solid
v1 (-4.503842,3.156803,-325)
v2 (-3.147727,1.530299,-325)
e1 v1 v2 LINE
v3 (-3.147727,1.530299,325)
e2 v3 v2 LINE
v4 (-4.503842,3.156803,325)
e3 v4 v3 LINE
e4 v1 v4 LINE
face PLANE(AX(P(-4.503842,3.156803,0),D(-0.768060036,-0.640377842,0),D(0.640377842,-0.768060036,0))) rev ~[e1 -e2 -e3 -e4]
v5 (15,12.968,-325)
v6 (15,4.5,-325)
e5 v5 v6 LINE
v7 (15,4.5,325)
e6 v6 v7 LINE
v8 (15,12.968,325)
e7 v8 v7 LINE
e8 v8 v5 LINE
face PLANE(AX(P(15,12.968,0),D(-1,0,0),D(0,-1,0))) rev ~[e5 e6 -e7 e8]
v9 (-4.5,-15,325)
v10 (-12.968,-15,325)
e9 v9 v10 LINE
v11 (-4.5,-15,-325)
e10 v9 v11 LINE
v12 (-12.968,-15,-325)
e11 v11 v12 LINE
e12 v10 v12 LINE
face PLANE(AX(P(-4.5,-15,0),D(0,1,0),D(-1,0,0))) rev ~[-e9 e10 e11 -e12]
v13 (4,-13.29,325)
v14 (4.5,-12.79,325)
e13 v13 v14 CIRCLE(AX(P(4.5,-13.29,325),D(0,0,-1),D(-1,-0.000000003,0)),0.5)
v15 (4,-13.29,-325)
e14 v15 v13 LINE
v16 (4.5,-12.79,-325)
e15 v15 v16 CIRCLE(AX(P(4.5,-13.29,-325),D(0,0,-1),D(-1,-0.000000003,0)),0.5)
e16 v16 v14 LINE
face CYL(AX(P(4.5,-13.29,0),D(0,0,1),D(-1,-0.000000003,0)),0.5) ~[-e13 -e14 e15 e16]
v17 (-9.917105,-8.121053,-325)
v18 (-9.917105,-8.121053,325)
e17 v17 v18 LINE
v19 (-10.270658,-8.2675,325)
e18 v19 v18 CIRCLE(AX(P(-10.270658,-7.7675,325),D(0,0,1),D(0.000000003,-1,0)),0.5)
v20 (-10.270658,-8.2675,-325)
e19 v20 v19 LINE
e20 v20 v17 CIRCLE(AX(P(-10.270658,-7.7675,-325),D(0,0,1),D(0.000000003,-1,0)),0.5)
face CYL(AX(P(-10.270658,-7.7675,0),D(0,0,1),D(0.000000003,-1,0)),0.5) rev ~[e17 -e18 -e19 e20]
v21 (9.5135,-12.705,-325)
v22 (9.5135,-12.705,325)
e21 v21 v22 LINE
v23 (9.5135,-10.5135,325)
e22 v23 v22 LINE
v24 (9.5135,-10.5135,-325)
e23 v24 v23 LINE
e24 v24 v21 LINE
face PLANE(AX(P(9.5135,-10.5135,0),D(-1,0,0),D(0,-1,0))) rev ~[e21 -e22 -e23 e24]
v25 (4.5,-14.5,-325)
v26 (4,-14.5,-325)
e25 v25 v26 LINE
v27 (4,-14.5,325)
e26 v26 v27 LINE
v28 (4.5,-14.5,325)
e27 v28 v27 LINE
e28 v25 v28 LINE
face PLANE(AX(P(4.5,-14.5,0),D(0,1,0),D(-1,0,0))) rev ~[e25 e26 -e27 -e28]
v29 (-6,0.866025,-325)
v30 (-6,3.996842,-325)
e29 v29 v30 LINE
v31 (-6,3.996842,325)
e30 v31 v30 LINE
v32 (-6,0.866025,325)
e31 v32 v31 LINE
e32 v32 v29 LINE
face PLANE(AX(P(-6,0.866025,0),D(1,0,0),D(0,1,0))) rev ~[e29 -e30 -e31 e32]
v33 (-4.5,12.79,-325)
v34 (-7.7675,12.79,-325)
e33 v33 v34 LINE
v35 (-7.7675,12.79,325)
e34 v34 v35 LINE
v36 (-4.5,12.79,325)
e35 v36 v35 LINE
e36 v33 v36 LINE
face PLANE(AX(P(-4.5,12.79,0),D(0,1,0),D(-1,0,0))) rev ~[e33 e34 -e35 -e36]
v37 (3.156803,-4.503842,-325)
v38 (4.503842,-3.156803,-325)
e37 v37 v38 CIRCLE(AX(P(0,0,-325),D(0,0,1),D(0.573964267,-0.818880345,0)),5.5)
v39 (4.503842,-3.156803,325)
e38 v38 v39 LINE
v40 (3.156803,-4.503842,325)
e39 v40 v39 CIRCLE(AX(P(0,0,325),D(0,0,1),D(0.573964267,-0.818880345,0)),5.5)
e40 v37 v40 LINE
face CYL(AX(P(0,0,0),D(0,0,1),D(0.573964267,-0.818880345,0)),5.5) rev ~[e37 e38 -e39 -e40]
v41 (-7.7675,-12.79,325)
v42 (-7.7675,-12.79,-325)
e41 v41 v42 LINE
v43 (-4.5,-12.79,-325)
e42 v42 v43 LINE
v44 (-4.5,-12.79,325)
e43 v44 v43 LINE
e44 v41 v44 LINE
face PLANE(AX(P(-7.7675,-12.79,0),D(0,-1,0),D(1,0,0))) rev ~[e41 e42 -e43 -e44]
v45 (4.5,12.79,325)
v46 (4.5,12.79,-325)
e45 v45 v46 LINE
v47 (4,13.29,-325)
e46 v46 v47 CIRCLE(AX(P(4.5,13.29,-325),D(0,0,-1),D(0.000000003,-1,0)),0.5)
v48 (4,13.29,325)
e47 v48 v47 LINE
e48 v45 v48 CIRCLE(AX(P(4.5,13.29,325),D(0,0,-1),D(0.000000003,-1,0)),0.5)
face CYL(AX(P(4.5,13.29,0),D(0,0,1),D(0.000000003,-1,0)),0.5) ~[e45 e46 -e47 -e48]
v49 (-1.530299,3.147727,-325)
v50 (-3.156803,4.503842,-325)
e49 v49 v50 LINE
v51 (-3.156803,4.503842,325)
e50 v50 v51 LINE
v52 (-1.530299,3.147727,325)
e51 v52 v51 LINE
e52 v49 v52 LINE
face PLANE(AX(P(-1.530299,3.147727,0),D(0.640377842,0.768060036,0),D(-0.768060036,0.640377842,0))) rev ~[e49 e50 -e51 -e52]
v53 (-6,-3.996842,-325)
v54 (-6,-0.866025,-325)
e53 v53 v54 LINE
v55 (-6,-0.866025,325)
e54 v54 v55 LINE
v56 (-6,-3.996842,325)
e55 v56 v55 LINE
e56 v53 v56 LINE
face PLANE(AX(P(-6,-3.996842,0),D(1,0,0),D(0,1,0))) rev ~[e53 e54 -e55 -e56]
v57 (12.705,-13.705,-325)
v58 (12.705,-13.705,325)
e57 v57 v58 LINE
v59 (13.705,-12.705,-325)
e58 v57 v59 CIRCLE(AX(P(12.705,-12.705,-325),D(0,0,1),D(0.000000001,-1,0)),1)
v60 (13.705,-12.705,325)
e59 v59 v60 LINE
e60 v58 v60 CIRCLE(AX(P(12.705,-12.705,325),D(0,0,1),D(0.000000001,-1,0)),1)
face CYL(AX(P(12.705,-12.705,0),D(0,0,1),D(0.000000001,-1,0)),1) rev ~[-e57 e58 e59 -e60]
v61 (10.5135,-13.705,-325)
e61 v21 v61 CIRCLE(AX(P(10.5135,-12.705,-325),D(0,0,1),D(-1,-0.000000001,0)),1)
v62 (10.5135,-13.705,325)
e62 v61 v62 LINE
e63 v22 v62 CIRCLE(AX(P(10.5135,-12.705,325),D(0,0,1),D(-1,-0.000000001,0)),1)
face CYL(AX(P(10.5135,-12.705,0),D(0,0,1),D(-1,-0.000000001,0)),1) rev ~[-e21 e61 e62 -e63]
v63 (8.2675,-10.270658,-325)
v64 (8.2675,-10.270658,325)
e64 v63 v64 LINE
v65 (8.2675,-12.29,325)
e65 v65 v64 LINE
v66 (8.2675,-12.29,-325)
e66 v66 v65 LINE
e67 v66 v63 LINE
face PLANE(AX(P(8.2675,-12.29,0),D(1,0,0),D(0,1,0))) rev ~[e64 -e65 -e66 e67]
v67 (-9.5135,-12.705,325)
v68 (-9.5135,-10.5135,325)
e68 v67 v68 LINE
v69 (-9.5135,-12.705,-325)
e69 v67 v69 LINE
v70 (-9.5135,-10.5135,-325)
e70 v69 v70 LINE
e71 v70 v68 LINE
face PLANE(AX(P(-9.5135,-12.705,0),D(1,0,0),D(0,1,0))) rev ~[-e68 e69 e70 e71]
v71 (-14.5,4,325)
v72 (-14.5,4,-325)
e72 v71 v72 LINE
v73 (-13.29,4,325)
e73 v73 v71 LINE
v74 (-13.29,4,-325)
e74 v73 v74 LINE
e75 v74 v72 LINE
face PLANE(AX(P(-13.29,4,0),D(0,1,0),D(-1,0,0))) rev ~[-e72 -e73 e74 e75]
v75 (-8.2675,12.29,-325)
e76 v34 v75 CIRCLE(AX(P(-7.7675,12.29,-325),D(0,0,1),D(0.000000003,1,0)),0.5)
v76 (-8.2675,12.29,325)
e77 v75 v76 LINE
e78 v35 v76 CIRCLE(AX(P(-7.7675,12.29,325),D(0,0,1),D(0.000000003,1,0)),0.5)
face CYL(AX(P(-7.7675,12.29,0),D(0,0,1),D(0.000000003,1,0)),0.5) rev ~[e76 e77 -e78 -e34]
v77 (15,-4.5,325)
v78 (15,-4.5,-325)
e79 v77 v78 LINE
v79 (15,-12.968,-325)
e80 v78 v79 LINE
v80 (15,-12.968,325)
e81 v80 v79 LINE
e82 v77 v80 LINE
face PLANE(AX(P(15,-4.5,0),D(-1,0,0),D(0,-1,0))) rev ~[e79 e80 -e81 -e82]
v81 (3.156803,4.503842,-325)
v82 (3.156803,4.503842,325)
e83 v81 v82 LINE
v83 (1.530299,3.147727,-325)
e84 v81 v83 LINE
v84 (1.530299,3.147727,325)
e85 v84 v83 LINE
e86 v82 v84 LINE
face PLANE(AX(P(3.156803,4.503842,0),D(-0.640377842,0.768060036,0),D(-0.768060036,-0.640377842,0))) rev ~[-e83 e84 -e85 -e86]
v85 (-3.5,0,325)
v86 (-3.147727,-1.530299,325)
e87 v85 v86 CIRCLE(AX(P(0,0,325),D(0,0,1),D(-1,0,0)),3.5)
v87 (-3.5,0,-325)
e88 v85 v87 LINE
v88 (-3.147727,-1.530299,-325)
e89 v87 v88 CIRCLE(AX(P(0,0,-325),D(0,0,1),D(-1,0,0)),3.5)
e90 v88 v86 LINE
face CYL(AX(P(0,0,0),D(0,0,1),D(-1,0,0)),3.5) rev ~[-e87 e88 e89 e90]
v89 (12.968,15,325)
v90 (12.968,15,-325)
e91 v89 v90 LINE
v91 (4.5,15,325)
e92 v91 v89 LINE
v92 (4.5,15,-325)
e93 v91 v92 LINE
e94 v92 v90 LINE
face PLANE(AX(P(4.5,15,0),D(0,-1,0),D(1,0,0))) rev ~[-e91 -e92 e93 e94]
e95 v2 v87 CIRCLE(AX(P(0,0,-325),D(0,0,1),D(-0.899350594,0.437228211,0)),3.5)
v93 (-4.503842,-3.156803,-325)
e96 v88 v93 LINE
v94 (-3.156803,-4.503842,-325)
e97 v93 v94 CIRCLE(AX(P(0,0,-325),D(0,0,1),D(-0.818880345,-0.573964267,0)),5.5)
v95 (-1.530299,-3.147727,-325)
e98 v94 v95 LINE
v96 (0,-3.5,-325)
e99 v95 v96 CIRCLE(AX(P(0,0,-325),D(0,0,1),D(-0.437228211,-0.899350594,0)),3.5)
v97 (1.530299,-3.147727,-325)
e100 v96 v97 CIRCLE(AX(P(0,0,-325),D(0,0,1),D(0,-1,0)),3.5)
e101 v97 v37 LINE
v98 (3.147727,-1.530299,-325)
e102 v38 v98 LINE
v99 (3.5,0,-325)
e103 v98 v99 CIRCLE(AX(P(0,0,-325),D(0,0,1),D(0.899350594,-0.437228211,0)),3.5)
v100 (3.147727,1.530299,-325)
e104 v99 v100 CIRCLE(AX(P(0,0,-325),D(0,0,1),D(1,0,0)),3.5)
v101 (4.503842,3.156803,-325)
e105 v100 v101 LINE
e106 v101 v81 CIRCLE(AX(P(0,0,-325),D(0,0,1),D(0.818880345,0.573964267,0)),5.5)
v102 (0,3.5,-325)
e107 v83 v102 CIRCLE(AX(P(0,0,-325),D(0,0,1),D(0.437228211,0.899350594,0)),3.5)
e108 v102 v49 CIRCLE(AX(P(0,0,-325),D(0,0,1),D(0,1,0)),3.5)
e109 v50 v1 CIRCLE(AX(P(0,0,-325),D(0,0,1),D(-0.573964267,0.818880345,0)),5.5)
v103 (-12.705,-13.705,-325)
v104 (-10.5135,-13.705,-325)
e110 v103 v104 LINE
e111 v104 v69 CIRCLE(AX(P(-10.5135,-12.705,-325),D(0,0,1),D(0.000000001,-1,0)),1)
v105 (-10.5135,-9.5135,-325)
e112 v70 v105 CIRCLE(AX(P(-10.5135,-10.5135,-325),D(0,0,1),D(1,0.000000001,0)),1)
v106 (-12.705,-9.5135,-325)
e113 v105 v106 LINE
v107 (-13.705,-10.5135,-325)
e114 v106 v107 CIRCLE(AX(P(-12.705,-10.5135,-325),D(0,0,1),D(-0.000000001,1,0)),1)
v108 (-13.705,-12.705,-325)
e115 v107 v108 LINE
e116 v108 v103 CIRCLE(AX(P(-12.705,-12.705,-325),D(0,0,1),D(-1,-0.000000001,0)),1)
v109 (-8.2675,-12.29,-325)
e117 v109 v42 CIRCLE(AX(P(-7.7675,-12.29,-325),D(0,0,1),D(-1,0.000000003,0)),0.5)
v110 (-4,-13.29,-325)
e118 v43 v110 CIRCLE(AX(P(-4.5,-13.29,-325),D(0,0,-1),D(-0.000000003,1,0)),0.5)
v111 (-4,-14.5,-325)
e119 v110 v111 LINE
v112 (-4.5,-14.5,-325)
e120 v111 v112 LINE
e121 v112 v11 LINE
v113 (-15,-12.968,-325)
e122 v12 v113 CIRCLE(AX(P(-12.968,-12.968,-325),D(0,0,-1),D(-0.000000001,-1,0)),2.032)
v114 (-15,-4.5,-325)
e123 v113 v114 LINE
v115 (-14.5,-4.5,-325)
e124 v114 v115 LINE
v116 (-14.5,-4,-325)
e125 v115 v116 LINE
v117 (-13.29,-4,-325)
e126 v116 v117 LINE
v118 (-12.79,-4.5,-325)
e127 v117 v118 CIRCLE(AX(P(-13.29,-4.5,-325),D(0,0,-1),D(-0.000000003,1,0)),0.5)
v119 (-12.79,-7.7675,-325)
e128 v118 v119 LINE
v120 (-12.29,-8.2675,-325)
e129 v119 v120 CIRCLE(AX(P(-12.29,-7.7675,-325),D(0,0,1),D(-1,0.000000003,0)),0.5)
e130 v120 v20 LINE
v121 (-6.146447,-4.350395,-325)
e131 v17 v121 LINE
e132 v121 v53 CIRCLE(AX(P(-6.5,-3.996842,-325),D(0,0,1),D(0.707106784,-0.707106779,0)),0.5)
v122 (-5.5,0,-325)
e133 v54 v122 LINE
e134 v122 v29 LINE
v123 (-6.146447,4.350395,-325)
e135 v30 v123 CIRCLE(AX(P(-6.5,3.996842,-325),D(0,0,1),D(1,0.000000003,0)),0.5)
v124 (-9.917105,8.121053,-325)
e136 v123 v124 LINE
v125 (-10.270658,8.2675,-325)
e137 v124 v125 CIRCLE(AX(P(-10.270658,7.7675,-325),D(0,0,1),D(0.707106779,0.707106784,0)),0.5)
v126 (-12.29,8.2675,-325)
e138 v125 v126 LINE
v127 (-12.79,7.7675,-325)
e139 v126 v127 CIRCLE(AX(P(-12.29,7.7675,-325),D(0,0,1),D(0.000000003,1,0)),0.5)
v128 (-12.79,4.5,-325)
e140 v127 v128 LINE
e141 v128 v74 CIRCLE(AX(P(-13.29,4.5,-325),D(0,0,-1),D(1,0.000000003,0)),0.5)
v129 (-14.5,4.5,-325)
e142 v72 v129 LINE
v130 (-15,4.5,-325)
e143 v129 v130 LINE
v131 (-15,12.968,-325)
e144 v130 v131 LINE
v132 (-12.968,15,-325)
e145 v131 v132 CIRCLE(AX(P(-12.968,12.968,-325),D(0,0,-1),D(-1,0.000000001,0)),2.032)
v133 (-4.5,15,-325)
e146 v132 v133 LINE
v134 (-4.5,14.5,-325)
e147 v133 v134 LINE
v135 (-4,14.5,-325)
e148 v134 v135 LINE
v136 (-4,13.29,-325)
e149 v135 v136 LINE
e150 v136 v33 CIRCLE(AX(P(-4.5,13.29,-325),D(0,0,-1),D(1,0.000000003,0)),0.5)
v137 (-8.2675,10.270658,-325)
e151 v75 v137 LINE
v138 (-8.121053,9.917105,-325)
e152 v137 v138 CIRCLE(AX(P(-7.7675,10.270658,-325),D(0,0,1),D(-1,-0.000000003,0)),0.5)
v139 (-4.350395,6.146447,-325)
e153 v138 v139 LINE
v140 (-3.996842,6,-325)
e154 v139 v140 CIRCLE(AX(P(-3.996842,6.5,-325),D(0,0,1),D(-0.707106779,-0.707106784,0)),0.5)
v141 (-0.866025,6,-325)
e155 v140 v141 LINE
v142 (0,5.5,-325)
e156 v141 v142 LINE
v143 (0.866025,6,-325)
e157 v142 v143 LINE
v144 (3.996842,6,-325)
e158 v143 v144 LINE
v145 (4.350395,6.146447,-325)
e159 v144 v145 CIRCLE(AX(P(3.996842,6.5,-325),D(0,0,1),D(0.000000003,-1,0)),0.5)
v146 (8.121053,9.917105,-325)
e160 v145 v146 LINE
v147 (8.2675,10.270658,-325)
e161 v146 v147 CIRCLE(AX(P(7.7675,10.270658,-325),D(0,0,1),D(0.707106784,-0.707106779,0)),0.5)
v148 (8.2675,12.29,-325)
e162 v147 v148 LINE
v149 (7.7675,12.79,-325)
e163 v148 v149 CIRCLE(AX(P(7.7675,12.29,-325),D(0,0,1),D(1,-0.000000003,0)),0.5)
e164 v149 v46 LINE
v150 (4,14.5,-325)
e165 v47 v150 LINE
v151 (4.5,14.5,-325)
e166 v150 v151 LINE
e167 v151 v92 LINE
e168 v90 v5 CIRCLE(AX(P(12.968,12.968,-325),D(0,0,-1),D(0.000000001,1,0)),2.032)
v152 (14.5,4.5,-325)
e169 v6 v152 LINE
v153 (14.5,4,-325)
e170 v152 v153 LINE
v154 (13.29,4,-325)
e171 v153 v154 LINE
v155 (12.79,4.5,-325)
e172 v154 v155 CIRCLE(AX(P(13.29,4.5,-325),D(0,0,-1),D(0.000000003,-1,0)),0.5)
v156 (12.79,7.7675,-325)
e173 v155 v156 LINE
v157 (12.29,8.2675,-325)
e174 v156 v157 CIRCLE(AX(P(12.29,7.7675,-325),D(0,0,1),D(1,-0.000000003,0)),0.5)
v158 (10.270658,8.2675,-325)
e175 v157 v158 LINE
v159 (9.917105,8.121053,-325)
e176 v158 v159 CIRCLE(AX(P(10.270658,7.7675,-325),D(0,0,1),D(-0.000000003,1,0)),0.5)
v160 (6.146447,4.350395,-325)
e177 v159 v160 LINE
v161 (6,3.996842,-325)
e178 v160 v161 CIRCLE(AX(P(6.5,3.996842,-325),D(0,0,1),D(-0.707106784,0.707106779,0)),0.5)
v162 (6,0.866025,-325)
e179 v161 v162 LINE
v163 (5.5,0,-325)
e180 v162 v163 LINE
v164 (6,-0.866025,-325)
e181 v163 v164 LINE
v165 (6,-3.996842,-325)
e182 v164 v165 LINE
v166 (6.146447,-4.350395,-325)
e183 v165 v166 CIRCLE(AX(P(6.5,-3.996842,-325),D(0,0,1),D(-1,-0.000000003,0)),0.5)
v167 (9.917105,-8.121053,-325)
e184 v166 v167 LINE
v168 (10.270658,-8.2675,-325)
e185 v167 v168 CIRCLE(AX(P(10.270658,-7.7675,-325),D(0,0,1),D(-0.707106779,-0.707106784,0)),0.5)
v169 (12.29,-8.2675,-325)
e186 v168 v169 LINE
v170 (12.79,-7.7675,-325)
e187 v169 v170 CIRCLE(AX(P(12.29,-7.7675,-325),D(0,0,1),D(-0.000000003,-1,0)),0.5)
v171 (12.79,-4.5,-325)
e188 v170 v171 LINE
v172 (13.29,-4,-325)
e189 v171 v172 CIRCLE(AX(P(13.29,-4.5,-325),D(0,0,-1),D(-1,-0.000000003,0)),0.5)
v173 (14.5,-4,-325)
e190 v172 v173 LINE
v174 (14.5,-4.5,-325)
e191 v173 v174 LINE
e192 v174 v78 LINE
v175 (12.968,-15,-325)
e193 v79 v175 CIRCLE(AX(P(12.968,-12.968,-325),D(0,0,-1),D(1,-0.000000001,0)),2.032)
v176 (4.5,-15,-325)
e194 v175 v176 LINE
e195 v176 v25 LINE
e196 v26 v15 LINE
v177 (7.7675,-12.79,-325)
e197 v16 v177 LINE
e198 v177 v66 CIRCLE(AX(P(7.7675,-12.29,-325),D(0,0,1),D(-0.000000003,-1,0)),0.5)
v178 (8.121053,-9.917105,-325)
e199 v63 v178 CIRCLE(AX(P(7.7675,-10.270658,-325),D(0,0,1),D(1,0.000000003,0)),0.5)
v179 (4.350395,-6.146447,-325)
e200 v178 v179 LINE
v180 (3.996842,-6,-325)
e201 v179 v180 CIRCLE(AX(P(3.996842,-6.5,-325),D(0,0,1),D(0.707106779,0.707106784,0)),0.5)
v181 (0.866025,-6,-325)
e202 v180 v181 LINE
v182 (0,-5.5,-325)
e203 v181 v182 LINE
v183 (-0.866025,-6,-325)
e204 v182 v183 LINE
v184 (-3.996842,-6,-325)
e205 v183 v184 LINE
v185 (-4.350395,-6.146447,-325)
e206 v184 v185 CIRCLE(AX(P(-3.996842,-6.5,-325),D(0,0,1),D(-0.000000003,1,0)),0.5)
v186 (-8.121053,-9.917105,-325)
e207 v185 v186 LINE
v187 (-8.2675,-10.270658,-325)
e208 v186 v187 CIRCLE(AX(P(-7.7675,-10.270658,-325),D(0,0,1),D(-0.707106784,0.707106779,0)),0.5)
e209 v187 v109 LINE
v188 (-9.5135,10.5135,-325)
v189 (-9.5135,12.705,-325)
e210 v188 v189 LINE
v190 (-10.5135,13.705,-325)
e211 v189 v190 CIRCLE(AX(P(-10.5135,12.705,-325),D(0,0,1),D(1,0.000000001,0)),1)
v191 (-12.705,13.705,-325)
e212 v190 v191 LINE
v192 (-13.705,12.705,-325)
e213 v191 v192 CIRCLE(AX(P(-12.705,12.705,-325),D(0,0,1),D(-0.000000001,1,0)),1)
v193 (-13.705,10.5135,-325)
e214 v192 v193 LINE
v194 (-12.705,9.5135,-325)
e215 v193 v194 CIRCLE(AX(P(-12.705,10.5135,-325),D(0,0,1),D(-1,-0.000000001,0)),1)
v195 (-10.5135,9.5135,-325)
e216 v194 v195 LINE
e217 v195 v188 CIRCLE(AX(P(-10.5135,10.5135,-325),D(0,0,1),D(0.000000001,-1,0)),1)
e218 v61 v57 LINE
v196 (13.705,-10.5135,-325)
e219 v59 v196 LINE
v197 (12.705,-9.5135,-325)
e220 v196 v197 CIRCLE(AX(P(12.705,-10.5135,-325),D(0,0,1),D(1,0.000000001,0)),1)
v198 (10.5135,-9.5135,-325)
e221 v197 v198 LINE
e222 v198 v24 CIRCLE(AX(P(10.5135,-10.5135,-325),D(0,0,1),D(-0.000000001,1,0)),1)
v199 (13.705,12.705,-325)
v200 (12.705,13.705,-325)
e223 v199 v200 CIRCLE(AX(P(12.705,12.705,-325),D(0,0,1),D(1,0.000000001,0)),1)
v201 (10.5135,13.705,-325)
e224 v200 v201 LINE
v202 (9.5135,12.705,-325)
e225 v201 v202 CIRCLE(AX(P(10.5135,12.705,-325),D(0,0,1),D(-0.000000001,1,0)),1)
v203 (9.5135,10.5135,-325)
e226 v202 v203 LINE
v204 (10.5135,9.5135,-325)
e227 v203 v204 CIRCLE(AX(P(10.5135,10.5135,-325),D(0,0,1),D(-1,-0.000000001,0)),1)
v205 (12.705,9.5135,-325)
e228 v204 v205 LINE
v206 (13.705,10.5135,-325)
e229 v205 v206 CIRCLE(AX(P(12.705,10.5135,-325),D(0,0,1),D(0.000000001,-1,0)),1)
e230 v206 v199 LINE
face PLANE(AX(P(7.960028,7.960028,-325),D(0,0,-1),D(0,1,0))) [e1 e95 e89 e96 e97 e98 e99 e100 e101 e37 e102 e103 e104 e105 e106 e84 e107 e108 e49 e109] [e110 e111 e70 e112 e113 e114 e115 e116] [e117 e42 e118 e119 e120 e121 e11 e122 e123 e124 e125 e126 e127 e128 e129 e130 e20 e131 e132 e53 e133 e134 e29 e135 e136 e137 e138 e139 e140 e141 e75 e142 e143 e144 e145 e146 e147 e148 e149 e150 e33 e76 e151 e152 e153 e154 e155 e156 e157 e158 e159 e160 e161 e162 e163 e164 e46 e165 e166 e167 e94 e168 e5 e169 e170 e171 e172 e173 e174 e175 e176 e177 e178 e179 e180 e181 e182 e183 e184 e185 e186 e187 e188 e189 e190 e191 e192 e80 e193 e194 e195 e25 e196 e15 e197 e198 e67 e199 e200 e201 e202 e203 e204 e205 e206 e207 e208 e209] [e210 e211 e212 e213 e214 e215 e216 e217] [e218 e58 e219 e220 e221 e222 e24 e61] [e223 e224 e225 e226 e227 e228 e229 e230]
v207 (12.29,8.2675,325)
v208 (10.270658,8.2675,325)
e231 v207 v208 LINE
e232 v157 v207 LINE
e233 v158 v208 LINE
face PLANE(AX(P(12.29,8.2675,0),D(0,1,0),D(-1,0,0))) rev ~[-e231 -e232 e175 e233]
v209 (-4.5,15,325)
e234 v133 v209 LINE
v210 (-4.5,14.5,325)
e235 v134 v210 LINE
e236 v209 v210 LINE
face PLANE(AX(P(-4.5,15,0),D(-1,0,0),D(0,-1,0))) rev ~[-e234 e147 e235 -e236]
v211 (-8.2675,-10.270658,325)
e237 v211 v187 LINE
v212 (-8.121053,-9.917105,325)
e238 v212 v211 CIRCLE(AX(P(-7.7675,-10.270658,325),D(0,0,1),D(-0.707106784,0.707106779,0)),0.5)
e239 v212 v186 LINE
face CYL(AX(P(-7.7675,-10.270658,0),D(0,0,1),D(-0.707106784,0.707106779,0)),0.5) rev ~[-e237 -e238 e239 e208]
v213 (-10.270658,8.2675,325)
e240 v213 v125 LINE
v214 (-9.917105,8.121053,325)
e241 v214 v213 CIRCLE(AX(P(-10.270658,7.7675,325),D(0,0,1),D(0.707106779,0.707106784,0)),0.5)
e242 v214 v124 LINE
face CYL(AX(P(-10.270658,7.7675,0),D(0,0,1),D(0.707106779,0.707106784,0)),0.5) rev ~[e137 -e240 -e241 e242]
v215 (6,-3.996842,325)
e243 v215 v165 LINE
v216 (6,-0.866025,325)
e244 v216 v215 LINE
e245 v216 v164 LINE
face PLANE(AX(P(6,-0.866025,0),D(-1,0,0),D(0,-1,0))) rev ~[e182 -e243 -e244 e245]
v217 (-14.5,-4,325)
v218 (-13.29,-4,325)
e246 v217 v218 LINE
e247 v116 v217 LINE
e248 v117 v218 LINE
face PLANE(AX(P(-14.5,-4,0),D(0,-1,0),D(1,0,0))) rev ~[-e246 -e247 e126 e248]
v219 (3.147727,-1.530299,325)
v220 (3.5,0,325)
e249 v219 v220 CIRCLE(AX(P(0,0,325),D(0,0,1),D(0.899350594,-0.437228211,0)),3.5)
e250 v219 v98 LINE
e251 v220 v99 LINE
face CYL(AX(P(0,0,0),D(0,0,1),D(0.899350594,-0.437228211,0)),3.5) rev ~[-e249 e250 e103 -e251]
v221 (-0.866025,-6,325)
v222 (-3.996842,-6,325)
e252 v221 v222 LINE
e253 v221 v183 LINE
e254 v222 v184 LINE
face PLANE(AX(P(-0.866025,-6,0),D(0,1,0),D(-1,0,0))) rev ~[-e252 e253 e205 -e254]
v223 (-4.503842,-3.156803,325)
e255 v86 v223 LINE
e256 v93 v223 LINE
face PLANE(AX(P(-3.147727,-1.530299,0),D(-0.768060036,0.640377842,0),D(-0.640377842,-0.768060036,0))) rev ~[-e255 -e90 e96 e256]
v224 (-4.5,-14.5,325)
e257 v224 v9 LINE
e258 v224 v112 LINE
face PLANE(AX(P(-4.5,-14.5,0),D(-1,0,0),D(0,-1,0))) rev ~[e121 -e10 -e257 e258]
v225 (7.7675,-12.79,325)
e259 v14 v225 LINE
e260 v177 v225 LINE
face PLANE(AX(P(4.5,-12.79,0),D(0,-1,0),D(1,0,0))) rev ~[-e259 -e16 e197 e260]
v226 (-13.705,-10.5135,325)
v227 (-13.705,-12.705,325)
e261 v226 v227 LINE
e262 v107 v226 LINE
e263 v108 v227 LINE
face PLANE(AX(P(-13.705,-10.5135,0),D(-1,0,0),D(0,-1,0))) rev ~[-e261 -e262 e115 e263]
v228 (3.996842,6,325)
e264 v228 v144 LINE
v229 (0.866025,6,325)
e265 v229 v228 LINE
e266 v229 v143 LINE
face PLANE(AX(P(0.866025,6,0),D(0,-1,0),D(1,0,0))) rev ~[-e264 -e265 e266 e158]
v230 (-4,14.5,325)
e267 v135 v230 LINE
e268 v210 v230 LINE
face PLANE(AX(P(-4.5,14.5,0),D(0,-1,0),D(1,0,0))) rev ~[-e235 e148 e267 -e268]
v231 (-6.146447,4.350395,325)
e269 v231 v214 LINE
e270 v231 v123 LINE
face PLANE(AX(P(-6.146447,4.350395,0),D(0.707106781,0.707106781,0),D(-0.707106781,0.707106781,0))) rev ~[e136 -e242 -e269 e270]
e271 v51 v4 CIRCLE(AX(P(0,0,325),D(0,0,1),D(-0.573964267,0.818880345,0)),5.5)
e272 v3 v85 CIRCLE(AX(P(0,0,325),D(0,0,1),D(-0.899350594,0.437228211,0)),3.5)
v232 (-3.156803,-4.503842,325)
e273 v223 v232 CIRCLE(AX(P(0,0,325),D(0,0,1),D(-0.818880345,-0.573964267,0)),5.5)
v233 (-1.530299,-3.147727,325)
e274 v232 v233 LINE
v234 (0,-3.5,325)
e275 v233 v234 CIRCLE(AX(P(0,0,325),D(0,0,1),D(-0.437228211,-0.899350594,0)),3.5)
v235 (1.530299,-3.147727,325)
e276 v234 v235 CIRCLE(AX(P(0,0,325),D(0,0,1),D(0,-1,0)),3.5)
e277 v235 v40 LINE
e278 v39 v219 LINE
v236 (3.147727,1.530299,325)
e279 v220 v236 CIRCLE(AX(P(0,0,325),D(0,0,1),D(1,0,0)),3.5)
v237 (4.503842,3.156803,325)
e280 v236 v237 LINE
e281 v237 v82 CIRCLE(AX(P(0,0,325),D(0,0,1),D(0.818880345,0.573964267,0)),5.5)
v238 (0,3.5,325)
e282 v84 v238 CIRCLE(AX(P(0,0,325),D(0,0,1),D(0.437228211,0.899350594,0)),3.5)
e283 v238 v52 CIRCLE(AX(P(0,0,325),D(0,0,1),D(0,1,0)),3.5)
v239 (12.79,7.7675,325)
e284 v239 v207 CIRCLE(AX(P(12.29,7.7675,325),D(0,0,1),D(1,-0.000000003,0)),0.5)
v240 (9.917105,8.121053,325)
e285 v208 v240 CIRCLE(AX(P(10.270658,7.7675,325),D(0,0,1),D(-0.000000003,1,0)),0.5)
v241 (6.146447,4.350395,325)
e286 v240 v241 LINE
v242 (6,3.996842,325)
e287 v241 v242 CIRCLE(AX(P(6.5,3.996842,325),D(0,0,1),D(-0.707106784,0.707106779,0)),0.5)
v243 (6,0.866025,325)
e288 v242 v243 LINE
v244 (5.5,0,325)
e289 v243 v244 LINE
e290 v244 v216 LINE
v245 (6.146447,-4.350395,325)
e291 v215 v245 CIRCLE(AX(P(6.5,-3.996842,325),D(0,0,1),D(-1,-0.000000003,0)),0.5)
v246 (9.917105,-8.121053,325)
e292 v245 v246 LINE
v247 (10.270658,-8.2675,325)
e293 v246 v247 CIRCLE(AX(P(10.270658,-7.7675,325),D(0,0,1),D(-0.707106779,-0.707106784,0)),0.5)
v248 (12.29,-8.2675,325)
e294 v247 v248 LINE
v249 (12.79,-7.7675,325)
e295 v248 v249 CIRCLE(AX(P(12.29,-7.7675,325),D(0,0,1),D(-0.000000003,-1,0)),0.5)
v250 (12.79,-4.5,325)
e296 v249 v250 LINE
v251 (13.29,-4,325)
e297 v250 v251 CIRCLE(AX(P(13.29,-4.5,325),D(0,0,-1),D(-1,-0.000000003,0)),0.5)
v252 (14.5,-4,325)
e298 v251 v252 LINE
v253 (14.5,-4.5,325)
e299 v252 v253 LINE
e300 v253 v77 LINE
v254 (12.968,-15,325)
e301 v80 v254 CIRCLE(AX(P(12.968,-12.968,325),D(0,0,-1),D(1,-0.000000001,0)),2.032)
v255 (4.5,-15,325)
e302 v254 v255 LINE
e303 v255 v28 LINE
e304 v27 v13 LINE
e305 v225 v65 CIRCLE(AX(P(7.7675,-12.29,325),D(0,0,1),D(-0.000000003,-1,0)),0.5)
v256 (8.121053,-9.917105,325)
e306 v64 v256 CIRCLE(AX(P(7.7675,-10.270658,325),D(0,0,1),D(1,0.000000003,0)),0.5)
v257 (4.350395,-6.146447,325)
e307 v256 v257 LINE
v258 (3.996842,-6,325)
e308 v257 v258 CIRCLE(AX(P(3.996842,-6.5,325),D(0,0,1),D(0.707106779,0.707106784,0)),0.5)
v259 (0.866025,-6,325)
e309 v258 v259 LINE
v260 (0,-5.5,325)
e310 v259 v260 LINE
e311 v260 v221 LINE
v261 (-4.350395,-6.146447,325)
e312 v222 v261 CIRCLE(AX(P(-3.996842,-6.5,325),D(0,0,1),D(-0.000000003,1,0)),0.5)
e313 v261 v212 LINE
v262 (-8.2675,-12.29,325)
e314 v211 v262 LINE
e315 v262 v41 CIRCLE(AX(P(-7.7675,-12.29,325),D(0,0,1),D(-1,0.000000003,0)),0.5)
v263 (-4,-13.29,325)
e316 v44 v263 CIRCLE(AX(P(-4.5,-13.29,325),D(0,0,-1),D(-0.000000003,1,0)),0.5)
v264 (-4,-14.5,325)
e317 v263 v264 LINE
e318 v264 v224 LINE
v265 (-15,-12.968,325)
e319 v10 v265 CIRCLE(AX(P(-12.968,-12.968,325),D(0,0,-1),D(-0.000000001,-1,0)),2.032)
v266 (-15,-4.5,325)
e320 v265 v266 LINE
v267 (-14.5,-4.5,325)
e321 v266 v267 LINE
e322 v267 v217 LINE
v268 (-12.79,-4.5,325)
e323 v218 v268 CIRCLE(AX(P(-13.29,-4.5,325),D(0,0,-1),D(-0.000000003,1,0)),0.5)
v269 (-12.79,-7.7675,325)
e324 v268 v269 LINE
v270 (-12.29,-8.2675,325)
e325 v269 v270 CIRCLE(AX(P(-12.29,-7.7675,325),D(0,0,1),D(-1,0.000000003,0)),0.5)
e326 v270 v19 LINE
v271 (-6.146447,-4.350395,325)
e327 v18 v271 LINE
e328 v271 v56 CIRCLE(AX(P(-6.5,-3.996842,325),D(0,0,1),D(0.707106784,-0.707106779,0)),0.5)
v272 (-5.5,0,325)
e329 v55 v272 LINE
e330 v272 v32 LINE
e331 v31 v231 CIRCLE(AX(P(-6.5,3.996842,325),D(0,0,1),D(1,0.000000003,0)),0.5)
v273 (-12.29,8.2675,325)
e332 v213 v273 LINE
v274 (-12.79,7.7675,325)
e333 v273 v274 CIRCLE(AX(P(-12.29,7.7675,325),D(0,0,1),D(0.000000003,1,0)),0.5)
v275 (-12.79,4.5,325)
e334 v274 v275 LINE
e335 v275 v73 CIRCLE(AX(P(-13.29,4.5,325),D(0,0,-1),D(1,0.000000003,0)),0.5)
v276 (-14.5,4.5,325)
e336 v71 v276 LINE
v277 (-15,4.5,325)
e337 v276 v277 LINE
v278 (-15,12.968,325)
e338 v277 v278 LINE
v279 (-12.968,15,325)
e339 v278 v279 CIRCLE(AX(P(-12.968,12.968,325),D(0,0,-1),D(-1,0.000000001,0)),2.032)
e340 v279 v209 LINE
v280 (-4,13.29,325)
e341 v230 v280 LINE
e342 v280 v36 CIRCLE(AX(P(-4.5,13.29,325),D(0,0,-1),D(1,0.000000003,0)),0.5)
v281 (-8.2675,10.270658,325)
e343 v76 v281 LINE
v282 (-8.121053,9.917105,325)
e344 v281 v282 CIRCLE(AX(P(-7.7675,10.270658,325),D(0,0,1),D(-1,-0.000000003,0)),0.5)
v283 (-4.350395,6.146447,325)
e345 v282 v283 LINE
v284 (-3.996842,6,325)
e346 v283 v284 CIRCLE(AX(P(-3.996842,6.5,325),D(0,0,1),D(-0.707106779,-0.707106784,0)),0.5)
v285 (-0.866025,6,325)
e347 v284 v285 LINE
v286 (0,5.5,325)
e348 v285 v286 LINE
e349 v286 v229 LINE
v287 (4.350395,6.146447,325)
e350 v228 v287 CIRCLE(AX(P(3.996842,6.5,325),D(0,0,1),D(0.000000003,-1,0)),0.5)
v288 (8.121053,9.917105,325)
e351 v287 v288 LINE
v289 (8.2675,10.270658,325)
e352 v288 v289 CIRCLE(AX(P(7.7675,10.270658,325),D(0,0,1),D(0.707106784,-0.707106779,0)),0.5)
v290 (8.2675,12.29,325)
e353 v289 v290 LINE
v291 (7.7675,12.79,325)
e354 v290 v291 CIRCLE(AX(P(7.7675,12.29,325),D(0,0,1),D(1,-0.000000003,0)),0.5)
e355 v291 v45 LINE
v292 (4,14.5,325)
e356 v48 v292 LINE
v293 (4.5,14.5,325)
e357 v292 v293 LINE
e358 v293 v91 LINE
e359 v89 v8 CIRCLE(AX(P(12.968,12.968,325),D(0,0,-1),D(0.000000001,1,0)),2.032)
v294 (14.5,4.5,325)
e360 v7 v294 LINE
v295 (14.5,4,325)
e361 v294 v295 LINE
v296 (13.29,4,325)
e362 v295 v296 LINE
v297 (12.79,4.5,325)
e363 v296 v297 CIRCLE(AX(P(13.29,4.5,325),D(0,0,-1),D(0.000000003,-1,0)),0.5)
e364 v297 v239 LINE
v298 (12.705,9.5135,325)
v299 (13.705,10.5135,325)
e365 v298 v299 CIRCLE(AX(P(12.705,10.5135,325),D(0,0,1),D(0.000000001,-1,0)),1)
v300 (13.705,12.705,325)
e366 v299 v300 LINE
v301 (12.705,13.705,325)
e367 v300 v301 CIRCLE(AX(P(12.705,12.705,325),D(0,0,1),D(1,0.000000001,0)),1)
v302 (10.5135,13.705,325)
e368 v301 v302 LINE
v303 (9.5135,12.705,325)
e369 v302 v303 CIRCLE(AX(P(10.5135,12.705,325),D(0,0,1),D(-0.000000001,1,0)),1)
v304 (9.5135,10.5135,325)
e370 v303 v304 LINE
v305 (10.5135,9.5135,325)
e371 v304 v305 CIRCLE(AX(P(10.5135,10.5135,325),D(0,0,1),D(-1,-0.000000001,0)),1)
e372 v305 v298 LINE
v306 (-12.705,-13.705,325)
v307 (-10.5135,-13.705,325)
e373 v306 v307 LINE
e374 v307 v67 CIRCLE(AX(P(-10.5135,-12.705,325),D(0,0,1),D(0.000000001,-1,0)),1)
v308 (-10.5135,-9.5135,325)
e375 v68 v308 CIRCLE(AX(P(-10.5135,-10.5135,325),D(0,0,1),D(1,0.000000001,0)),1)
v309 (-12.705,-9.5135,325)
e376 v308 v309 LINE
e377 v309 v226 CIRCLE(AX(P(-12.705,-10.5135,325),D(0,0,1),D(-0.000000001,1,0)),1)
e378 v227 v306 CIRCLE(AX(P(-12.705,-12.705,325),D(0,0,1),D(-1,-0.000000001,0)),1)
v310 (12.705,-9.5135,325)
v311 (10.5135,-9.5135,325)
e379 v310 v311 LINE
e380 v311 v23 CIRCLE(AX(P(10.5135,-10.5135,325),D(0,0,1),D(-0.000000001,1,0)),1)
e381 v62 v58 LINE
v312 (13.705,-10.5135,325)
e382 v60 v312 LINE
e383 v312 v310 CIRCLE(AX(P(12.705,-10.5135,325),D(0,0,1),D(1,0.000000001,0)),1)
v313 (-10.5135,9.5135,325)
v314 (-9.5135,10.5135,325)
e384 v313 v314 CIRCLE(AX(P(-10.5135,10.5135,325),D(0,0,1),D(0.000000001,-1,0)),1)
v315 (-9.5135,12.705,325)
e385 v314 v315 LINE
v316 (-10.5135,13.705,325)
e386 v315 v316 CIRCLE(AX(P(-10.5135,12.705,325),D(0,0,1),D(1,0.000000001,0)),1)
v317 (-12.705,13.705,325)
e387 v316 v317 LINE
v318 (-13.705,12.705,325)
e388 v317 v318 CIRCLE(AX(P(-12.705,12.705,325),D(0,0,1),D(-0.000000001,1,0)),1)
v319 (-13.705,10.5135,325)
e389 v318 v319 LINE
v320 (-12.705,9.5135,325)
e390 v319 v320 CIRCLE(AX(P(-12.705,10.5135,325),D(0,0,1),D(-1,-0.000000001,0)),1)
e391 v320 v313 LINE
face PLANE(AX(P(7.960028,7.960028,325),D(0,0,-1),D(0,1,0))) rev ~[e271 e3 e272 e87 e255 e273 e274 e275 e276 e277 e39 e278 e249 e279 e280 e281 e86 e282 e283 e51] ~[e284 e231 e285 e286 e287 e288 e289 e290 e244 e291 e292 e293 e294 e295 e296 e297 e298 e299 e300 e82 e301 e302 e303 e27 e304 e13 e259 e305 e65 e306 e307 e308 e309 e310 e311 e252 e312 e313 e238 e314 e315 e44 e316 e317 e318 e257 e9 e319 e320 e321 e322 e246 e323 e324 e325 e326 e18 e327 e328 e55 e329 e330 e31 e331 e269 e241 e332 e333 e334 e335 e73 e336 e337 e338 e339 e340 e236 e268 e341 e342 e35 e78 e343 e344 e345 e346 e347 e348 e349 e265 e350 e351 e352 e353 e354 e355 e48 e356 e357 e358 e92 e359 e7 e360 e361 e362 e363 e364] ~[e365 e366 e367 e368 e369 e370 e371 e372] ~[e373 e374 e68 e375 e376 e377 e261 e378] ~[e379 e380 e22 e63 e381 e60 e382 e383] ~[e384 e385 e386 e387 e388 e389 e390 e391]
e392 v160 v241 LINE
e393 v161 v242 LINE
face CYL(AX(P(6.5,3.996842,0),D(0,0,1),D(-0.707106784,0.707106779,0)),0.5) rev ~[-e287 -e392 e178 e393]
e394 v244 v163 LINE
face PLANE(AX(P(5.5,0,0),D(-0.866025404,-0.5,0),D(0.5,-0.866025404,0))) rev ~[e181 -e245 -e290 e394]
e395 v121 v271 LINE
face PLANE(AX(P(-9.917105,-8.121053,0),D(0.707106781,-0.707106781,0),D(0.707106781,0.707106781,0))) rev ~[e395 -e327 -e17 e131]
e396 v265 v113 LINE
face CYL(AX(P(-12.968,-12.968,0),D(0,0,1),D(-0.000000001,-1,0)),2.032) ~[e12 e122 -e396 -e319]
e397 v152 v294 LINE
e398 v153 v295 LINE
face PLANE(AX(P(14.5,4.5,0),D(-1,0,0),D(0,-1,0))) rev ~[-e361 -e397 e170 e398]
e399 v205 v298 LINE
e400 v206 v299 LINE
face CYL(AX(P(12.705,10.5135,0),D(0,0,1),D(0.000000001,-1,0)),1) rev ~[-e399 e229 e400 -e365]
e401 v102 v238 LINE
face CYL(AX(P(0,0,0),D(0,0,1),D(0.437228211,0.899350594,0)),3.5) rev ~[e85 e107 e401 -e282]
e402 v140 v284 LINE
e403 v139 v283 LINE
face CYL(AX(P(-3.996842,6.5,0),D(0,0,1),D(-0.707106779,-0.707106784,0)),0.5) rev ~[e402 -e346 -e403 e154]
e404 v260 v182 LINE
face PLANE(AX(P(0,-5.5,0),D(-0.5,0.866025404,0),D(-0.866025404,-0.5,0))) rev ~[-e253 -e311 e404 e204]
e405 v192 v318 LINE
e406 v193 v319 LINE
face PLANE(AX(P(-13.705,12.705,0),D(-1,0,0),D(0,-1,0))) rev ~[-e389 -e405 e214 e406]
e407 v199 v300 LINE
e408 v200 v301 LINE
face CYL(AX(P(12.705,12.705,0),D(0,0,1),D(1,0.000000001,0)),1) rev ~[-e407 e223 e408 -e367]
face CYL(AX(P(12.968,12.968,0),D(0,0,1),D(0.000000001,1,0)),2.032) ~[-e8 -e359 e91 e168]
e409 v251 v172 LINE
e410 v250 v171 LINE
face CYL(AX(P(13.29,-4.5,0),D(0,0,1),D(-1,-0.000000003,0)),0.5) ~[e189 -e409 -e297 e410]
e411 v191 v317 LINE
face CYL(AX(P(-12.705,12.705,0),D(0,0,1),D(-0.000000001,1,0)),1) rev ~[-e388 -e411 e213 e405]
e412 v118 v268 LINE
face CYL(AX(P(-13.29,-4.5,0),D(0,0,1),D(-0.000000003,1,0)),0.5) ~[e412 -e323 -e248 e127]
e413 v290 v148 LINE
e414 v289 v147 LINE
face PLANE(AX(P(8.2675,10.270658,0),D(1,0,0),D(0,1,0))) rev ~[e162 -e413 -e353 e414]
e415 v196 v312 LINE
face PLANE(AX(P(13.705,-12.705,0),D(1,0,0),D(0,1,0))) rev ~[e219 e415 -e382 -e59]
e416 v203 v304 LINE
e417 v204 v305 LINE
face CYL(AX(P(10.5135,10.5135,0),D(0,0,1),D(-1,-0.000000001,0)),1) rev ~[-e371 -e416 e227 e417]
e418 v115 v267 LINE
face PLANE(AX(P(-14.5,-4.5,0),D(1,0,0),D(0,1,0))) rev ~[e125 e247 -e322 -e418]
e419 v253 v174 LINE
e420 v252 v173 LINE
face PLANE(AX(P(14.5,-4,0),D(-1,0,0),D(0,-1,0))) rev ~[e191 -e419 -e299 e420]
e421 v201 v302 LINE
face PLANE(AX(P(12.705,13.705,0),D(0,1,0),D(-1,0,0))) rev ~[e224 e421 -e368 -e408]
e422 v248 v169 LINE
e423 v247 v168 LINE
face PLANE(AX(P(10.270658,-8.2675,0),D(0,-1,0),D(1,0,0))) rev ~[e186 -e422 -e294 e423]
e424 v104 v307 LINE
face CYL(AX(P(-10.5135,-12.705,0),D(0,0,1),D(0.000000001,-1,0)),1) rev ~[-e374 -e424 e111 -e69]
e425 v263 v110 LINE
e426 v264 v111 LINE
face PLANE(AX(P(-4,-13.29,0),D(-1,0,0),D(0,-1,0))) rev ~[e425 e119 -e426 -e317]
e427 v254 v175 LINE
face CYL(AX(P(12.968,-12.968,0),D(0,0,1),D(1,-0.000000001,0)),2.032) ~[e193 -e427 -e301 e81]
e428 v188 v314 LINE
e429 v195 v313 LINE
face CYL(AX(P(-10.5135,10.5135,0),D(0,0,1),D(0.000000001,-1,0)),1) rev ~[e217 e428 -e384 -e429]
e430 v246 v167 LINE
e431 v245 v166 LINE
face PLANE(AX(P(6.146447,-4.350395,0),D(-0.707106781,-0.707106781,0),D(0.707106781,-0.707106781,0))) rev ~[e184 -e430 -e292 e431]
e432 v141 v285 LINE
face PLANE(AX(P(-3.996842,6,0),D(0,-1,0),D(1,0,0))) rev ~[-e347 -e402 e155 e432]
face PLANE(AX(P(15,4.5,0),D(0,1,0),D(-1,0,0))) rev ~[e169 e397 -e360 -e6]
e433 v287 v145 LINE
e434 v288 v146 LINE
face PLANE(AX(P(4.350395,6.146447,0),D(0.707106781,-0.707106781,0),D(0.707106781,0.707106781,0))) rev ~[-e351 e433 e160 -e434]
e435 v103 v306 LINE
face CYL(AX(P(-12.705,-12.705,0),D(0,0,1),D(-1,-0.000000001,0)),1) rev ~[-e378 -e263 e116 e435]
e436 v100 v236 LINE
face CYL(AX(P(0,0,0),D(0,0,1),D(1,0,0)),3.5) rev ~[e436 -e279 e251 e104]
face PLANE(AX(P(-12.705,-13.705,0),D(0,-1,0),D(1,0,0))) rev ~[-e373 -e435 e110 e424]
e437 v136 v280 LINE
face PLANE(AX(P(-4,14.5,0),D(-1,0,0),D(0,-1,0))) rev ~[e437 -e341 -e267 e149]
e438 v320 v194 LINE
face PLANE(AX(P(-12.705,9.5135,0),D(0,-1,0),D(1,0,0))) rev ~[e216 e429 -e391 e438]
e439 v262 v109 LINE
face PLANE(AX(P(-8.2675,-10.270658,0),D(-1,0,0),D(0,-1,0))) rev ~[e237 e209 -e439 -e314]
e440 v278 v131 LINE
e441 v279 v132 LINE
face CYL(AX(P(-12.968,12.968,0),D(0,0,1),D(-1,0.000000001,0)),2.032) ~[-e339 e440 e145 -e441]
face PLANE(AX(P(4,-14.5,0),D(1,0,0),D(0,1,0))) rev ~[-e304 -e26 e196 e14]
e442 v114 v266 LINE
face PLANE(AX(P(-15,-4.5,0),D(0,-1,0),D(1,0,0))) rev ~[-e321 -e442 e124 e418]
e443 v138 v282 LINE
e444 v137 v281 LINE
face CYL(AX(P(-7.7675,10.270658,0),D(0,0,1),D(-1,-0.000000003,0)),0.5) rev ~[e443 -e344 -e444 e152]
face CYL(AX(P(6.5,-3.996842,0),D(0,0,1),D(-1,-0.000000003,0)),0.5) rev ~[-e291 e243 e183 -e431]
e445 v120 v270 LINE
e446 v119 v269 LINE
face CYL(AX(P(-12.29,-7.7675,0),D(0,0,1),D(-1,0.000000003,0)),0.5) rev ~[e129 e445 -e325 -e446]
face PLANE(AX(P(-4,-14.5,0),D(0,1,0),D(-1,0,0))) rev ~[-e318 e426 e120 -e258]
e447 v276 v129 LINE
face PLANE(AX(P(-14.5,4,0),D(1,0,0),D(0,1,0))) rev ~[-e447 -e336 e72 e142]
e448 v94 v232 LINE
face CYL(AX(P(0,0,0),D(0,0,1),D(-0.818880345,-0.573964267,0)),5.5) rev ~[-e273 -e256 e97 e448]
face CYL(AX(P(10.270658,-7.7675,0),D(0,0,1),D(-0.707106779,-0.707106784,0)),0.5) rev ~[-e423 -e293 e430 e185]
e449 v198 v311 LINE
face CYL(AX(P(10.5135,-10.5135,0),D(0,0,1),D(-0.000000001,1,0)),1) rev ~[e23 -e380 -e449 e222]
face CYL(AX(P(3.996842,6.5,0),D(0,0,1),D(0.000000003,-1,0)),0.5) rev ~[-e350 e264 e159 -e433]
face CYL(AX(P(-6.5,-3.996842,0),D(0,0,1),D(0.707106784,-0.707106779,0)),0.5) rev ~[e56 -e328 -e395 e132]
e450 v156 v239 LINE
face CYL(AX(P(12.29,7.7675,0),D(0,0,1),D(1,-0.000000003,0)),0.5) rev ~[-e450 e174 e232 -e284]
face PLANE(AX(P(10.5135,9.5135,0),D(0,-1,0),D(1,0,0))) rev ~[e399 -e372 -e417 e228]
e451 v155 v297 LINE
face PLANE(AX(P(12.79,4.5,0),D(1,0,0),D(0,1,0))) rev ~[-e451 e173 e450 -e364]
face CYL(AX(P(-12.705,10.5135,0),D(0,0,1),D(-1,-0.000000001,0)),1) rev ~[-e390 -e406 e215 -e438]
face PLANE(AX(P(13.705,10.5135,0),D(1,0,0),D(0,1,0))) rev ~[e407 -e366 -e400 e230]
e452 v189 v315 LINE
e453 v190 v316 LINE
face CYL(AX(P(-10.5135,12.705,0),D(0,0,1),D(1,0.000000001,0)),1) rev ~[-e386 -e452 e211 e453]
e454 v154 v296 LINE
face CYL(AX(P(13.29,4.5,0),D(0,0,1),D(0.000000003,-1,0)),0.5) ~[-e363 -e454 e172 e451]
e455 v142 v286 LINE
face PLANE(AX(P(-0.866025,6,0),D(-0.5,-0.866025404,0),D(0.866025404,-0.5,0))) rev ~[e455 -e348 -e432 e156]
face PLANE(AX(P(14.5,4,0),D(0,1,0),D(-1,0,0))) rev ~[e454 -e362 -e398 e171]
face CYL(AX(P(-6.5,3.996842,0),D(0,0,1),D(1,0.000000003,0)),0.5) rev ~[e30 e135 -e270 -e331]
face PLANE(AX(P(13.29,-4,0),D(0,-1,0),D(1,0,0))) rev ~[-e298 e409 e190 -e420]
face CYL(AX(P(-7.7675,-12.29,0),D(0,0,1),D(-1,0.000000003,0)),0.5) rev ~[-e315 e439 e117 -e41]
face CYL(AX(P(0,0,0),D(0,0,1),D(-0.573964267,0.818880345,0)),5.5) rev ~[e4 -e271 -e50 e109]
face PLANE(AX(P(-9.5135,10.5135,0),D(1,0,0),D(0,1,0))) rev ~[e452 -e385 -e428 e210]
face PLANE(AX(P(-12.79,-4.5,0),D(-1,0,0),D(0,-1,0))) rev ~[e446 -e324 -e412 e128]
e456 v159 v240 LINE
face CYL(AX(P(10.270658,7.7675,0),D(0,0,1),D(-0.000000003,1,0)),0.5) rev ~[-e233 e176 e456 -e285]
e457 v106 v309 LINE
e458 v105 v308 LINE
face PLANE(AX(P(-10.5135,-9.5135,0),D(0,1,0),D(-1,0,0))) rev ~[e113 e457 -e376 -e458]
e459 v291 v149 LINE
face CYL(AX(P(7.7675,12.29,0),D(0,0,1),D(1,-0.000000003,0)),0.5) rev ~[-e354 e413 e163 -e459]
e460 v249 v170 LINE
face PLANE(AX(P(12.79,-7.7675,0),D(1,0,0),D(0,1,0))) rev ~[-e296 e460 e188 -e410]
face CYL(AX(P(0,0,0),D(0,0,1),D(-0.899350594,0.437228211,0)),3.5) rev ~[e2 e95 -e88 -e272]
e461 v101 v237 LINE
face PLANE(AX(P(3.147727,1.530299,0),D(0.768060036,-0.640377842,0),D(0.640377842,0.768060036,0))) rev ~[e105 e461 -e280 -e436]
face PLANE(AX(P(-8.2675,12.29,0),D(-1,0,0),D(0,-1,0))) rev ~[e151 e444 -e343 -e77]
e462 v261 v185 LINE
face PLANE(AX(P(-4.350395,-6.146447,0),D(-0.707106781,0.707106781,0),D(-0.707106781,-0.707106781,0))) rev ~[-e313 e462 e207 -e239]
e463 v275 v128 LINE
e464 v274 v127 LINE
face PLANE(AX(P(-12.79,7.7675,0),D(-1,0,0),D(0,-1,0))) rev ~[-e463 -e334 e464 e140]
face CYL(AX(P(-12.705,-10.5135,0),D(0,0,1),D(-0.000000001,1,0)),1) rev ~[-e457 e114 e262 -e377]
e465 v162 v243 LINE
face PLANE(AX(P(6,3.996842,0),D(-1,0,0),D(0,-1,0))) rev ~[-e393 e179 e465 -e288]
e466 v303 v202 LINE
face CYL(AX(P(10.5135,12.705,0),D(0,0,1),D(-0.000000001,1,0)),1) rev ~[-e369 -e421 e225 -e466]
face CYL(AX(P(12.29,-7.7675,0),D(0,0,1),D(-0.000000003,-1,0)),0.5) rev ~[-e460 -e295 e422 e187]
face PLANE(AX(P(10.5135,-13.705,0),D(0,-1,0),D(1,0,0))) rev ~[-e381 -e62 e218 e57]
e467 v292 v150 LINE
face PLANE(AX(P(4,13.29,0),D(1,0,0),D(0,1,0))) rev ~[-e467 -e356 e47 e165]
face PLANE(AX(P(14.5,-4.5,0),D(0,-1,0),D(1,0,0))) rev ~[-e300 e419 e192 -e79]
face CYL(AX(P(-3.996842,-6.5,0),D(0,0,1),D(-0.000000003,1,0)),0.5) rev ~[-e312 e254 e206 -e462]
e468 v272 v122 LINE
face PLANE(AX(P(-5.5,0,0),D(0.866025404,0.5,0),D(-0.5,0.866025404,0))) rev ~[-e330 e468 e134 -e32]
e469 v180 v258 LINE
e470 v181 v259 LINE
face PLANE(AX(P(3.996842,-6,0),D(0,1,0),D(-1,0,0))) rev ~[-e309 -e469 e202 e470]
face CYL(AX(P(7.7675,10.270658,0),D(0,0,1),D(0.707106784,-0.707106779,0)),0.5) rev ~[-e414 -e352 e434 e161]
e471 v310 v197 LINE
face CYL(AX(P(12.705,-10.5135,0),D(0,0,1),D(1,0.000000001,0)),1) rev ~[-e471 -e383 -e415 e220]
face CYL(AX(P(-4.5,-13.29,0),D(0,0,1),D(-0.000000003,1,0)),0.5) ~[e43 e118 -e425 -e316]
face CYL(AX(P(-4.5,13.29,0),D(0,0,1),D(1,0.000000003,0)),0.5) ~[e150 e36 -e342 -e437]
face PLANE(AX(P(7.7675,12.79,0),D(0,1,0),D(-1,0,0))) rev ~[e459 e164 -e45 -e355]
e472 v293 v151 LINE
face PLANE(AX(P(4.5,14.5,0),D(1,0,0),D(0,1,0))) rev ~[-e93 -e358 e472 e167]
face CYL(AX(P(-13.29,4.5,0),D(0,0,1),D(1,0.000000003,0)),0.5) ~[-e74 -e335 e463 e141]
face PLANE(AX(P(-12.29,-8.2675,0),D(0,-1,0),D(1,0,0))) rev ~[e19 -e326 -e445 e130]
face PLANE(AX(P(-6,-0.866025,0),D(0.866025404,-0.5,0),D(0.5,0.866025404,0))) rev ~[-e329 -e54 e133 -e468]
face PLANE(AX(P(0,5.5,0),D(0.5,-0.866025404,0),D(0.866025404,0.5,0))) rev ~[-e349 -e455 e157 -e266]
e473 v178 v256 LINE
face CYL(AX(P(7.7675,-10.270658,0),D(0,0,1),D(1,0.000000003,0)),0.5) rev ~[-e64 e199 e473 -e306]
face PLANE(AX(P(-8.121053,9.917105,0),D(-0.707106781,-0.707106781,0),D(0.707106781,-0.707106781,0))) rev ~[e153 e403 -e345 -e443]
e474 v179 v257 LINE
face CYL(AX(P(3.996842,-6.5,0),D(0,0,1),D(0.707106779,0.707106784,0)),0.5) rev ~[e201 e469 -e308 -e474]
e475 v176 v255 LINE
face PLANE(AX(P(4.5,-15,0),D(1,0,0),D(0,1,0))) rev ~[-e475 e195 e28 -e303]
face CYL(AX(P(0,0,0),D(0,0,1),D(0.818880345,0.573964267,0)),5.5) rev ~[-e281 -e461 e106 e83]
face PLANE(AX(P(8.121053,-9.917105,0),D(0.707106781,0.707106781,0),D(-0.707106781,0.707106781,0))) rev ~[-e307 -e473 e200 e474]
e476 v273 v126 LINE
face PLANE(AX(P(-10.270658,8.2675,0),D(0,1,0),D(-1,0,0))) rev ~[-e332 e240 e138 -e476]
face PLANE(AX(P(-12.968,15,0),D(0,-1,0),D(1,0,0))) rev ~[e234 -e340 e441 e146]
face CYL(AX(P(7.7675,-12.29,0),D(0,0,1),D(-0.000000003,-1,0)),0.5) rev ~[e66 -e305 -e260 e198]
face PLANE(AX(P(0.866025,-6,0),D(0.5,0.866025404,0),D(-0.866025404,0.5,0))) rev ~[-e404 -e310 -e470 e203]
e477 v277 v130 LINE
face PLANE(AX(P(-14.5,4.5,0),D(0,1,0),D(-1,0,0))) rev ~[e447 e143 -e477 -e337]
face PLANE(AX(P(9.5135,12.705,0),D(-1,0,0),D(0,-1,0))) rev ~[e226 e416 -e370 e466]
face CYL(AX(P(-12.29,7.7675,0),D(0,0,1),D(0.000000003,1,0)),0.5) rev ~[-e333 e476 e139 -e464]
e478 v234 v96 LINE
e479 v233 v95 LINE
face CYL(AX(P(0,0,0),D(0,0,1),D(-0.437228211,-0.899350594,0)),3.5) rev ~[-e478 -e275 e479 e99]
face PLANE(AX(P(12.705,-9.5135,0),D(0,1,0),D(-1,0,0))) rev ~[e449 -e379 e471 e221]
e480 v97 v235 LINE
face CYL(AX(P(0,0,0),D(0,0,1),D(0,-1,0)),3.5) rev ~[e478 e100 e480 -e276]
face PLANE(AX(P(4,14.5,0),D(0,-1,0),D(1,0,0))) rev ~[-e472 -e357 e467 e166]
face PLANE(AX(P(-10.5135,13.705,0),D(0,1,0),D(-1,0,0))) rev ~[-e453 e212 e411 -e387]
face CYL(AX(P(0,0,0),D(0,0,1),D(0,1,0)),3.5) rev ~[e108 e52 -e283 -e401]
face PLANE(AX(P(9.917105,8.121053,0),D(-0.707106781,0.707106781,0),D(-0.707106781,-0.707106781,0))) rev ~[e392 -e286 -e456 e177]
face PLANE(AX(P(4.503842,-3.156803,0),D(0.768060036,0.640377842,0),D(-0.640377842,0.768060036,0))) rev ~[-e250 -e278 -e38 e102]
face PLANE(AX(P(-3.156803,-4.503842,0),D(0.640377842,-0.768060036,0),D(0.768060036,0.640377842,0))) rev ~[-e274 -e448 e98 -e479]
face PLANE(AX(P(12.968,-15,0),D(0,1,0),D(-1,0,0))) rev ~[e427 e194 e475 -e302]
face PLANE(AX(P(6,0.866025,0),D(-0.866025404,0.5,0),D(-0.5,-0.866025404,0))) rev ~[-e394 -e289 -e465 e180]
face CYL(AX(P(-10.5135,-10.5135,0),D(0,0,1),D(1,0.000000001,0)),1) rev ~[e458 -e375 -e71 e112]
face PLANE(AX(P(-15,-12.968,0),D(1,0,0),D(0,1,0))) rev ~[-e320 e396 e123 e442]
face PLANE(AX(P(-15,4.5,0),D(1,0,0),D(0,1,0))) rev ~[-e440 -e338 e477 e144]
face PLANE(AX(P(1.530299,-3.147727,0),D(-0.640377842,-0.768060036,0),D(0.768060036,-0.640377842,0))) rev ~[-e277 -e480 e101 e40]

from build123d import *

# Parameters (mm, degrees)
BOSS_EXTRUDE1_DEPTH = 325
CIRPATTERN1_COUNT   = 4


with BuildPart() as part:
    # Sketch3 → Boss-Extrude1 (new, symmetric)
    with BuildSketch(Plane.XY):
        with BuildLine():
            Line((-4.503841895, 3.156803476), (-3.14772708, 1.530298739))
            ThreePointArc((-3.14772708, 1.530298739), (-3.410794979, 0.785160882), (-3.5, 0))
            Line((-3.5, 0), (-5.5, 0))
            Line((-5.5, 0), (-6, 0.866025404))
            Line((-6, 0.866025404), (-6, 3.996841995))
            ThreePointArc((-6, 3.996841995), (-6.038060234, 4.188183711), (-6.146446609, 4.350395385))
            Line((-6.146446609, 4.350395385), (-9.917104615, 8.121053391))
            ThreePointArc((-9.917104615, 8.121053391), (-10.079316289, 8.229439766), (-10.270658005, 8.2675))
            Line((-10.270658005, 8.2675), (-12.29, 8.2675))
            ThreePointArc((-12.29, 8.2675), (-12.643553391, 8.121053391), (-12.79, 7.7675))
            Line((-12.79, 7.7675), (-12.79, 4.5))
            ThreePointArc((-12.79, 4.5), (-12.936446609, 4.146446609), (-13.29, 4))
            Line((-13.29, 4), (-14.5, 4))
            Line((-14.5, 4), (-14.5, 4.5))
            Line((-14.5, 4.5), (-15, 4.5))
            Line((-15, 4.5), (-15, 12.968))
            ThreePointArc((-15, 12.968), (-14.404840979, 14.404840979), (-12.968, 15))
            Line((-12.968, 15), (-4.5, 15))
            Line((-4.5, 15), (-4.5, 14.5))
            Line((-4.5, 14.5), (-4, 14.5))
            Line((-4, 14.5), (-4, 13.29))
            ThreePointArc((-4, 13.29), (-4.146446609, 12.936446609), (-4.5, 12.79))
            Line((-4.5, 12.79), (-7.7675, 12.79))
            ThreePointArc((-7.7675, 12.79), (-8.121053391, 12.643553391), (-8.2675, 12.29))
            Line((-8.2675, 12.29), (-8.2675, 10.270658005))
            ThreePointArc((-8.2675, 10.270658005), (-8.229439766, 10.079316289), (-8.121053391, 9.917104615))
            Line((-8.121053391, 9.917104615), (-4.350395385, 6.146446609))
            ThreePointArc((-4.350395385, 6.146446609), (-4.188183711, 6.038060234), (-3.996841995, 6))
            Line((-3.996841995, 6), (-0.866025404, 6))
            Line((-0.866025404, 6), (0, 5.5))
            Line((0, 5.5), (0, 3.5))
            ThreePointArc((0, 3.5), (-0.785160882, 3.410794979), (-1.530298739, 3.14772708))
            Line((-1.530298739, 3.14772708), (-3.156803476, 4.503841895))
            ThreePointArc((-3.156803476, 4.503841895), (-3.889087297, 3.889087297), (-4.503841895, 3.156803476))
        make_face()
        with BuildLine():
            Line((-12.705, 9.5135), (-10.5135, 9.5135))
            ThreePointArc((-10.5135, 9.5135), (-9.806393219, 9.806393219), (-9.5135, 10.5135))
            Line((-9.5135, 10.5135), (-9.5135, 12.705))
            ThreePointArc((-9.5135, 12.705), (-9.806393219, 13.412106781), (-10.5135, 13.705))
            Line((-10.5135, 13.705), (-12.705, 13.705))
            ThreePointArc((-12.705, 13.705), (-13.412106781, 13.412106781), (-13.705, 12.705))
            Line((-13.705, 12.705), (-13.705, 10.5135))
            ThreePointArc((-13.705, 10.5135), (-13.412106781, 9.806393219), (-12.705, 9.5135))
        make_face(mode=Mode.SUBTRACT)
    boss_extrude1 = extrude(amount=BOSS_EXTRUDE1_DEPTH, both=True)

    # CirPattern1: Boss-Extrude1 ×4 about axis
    cirpattern1_axis = Axis((0, 0, 0), (0, 0, 1))
    for i in range(1, CIRPATTERN1_COUNT):
        add(boss_extrude1.rotate(cirpattern1_axis, i * 360 / CIRPATTERN1_COUNT))


solid = part.part
